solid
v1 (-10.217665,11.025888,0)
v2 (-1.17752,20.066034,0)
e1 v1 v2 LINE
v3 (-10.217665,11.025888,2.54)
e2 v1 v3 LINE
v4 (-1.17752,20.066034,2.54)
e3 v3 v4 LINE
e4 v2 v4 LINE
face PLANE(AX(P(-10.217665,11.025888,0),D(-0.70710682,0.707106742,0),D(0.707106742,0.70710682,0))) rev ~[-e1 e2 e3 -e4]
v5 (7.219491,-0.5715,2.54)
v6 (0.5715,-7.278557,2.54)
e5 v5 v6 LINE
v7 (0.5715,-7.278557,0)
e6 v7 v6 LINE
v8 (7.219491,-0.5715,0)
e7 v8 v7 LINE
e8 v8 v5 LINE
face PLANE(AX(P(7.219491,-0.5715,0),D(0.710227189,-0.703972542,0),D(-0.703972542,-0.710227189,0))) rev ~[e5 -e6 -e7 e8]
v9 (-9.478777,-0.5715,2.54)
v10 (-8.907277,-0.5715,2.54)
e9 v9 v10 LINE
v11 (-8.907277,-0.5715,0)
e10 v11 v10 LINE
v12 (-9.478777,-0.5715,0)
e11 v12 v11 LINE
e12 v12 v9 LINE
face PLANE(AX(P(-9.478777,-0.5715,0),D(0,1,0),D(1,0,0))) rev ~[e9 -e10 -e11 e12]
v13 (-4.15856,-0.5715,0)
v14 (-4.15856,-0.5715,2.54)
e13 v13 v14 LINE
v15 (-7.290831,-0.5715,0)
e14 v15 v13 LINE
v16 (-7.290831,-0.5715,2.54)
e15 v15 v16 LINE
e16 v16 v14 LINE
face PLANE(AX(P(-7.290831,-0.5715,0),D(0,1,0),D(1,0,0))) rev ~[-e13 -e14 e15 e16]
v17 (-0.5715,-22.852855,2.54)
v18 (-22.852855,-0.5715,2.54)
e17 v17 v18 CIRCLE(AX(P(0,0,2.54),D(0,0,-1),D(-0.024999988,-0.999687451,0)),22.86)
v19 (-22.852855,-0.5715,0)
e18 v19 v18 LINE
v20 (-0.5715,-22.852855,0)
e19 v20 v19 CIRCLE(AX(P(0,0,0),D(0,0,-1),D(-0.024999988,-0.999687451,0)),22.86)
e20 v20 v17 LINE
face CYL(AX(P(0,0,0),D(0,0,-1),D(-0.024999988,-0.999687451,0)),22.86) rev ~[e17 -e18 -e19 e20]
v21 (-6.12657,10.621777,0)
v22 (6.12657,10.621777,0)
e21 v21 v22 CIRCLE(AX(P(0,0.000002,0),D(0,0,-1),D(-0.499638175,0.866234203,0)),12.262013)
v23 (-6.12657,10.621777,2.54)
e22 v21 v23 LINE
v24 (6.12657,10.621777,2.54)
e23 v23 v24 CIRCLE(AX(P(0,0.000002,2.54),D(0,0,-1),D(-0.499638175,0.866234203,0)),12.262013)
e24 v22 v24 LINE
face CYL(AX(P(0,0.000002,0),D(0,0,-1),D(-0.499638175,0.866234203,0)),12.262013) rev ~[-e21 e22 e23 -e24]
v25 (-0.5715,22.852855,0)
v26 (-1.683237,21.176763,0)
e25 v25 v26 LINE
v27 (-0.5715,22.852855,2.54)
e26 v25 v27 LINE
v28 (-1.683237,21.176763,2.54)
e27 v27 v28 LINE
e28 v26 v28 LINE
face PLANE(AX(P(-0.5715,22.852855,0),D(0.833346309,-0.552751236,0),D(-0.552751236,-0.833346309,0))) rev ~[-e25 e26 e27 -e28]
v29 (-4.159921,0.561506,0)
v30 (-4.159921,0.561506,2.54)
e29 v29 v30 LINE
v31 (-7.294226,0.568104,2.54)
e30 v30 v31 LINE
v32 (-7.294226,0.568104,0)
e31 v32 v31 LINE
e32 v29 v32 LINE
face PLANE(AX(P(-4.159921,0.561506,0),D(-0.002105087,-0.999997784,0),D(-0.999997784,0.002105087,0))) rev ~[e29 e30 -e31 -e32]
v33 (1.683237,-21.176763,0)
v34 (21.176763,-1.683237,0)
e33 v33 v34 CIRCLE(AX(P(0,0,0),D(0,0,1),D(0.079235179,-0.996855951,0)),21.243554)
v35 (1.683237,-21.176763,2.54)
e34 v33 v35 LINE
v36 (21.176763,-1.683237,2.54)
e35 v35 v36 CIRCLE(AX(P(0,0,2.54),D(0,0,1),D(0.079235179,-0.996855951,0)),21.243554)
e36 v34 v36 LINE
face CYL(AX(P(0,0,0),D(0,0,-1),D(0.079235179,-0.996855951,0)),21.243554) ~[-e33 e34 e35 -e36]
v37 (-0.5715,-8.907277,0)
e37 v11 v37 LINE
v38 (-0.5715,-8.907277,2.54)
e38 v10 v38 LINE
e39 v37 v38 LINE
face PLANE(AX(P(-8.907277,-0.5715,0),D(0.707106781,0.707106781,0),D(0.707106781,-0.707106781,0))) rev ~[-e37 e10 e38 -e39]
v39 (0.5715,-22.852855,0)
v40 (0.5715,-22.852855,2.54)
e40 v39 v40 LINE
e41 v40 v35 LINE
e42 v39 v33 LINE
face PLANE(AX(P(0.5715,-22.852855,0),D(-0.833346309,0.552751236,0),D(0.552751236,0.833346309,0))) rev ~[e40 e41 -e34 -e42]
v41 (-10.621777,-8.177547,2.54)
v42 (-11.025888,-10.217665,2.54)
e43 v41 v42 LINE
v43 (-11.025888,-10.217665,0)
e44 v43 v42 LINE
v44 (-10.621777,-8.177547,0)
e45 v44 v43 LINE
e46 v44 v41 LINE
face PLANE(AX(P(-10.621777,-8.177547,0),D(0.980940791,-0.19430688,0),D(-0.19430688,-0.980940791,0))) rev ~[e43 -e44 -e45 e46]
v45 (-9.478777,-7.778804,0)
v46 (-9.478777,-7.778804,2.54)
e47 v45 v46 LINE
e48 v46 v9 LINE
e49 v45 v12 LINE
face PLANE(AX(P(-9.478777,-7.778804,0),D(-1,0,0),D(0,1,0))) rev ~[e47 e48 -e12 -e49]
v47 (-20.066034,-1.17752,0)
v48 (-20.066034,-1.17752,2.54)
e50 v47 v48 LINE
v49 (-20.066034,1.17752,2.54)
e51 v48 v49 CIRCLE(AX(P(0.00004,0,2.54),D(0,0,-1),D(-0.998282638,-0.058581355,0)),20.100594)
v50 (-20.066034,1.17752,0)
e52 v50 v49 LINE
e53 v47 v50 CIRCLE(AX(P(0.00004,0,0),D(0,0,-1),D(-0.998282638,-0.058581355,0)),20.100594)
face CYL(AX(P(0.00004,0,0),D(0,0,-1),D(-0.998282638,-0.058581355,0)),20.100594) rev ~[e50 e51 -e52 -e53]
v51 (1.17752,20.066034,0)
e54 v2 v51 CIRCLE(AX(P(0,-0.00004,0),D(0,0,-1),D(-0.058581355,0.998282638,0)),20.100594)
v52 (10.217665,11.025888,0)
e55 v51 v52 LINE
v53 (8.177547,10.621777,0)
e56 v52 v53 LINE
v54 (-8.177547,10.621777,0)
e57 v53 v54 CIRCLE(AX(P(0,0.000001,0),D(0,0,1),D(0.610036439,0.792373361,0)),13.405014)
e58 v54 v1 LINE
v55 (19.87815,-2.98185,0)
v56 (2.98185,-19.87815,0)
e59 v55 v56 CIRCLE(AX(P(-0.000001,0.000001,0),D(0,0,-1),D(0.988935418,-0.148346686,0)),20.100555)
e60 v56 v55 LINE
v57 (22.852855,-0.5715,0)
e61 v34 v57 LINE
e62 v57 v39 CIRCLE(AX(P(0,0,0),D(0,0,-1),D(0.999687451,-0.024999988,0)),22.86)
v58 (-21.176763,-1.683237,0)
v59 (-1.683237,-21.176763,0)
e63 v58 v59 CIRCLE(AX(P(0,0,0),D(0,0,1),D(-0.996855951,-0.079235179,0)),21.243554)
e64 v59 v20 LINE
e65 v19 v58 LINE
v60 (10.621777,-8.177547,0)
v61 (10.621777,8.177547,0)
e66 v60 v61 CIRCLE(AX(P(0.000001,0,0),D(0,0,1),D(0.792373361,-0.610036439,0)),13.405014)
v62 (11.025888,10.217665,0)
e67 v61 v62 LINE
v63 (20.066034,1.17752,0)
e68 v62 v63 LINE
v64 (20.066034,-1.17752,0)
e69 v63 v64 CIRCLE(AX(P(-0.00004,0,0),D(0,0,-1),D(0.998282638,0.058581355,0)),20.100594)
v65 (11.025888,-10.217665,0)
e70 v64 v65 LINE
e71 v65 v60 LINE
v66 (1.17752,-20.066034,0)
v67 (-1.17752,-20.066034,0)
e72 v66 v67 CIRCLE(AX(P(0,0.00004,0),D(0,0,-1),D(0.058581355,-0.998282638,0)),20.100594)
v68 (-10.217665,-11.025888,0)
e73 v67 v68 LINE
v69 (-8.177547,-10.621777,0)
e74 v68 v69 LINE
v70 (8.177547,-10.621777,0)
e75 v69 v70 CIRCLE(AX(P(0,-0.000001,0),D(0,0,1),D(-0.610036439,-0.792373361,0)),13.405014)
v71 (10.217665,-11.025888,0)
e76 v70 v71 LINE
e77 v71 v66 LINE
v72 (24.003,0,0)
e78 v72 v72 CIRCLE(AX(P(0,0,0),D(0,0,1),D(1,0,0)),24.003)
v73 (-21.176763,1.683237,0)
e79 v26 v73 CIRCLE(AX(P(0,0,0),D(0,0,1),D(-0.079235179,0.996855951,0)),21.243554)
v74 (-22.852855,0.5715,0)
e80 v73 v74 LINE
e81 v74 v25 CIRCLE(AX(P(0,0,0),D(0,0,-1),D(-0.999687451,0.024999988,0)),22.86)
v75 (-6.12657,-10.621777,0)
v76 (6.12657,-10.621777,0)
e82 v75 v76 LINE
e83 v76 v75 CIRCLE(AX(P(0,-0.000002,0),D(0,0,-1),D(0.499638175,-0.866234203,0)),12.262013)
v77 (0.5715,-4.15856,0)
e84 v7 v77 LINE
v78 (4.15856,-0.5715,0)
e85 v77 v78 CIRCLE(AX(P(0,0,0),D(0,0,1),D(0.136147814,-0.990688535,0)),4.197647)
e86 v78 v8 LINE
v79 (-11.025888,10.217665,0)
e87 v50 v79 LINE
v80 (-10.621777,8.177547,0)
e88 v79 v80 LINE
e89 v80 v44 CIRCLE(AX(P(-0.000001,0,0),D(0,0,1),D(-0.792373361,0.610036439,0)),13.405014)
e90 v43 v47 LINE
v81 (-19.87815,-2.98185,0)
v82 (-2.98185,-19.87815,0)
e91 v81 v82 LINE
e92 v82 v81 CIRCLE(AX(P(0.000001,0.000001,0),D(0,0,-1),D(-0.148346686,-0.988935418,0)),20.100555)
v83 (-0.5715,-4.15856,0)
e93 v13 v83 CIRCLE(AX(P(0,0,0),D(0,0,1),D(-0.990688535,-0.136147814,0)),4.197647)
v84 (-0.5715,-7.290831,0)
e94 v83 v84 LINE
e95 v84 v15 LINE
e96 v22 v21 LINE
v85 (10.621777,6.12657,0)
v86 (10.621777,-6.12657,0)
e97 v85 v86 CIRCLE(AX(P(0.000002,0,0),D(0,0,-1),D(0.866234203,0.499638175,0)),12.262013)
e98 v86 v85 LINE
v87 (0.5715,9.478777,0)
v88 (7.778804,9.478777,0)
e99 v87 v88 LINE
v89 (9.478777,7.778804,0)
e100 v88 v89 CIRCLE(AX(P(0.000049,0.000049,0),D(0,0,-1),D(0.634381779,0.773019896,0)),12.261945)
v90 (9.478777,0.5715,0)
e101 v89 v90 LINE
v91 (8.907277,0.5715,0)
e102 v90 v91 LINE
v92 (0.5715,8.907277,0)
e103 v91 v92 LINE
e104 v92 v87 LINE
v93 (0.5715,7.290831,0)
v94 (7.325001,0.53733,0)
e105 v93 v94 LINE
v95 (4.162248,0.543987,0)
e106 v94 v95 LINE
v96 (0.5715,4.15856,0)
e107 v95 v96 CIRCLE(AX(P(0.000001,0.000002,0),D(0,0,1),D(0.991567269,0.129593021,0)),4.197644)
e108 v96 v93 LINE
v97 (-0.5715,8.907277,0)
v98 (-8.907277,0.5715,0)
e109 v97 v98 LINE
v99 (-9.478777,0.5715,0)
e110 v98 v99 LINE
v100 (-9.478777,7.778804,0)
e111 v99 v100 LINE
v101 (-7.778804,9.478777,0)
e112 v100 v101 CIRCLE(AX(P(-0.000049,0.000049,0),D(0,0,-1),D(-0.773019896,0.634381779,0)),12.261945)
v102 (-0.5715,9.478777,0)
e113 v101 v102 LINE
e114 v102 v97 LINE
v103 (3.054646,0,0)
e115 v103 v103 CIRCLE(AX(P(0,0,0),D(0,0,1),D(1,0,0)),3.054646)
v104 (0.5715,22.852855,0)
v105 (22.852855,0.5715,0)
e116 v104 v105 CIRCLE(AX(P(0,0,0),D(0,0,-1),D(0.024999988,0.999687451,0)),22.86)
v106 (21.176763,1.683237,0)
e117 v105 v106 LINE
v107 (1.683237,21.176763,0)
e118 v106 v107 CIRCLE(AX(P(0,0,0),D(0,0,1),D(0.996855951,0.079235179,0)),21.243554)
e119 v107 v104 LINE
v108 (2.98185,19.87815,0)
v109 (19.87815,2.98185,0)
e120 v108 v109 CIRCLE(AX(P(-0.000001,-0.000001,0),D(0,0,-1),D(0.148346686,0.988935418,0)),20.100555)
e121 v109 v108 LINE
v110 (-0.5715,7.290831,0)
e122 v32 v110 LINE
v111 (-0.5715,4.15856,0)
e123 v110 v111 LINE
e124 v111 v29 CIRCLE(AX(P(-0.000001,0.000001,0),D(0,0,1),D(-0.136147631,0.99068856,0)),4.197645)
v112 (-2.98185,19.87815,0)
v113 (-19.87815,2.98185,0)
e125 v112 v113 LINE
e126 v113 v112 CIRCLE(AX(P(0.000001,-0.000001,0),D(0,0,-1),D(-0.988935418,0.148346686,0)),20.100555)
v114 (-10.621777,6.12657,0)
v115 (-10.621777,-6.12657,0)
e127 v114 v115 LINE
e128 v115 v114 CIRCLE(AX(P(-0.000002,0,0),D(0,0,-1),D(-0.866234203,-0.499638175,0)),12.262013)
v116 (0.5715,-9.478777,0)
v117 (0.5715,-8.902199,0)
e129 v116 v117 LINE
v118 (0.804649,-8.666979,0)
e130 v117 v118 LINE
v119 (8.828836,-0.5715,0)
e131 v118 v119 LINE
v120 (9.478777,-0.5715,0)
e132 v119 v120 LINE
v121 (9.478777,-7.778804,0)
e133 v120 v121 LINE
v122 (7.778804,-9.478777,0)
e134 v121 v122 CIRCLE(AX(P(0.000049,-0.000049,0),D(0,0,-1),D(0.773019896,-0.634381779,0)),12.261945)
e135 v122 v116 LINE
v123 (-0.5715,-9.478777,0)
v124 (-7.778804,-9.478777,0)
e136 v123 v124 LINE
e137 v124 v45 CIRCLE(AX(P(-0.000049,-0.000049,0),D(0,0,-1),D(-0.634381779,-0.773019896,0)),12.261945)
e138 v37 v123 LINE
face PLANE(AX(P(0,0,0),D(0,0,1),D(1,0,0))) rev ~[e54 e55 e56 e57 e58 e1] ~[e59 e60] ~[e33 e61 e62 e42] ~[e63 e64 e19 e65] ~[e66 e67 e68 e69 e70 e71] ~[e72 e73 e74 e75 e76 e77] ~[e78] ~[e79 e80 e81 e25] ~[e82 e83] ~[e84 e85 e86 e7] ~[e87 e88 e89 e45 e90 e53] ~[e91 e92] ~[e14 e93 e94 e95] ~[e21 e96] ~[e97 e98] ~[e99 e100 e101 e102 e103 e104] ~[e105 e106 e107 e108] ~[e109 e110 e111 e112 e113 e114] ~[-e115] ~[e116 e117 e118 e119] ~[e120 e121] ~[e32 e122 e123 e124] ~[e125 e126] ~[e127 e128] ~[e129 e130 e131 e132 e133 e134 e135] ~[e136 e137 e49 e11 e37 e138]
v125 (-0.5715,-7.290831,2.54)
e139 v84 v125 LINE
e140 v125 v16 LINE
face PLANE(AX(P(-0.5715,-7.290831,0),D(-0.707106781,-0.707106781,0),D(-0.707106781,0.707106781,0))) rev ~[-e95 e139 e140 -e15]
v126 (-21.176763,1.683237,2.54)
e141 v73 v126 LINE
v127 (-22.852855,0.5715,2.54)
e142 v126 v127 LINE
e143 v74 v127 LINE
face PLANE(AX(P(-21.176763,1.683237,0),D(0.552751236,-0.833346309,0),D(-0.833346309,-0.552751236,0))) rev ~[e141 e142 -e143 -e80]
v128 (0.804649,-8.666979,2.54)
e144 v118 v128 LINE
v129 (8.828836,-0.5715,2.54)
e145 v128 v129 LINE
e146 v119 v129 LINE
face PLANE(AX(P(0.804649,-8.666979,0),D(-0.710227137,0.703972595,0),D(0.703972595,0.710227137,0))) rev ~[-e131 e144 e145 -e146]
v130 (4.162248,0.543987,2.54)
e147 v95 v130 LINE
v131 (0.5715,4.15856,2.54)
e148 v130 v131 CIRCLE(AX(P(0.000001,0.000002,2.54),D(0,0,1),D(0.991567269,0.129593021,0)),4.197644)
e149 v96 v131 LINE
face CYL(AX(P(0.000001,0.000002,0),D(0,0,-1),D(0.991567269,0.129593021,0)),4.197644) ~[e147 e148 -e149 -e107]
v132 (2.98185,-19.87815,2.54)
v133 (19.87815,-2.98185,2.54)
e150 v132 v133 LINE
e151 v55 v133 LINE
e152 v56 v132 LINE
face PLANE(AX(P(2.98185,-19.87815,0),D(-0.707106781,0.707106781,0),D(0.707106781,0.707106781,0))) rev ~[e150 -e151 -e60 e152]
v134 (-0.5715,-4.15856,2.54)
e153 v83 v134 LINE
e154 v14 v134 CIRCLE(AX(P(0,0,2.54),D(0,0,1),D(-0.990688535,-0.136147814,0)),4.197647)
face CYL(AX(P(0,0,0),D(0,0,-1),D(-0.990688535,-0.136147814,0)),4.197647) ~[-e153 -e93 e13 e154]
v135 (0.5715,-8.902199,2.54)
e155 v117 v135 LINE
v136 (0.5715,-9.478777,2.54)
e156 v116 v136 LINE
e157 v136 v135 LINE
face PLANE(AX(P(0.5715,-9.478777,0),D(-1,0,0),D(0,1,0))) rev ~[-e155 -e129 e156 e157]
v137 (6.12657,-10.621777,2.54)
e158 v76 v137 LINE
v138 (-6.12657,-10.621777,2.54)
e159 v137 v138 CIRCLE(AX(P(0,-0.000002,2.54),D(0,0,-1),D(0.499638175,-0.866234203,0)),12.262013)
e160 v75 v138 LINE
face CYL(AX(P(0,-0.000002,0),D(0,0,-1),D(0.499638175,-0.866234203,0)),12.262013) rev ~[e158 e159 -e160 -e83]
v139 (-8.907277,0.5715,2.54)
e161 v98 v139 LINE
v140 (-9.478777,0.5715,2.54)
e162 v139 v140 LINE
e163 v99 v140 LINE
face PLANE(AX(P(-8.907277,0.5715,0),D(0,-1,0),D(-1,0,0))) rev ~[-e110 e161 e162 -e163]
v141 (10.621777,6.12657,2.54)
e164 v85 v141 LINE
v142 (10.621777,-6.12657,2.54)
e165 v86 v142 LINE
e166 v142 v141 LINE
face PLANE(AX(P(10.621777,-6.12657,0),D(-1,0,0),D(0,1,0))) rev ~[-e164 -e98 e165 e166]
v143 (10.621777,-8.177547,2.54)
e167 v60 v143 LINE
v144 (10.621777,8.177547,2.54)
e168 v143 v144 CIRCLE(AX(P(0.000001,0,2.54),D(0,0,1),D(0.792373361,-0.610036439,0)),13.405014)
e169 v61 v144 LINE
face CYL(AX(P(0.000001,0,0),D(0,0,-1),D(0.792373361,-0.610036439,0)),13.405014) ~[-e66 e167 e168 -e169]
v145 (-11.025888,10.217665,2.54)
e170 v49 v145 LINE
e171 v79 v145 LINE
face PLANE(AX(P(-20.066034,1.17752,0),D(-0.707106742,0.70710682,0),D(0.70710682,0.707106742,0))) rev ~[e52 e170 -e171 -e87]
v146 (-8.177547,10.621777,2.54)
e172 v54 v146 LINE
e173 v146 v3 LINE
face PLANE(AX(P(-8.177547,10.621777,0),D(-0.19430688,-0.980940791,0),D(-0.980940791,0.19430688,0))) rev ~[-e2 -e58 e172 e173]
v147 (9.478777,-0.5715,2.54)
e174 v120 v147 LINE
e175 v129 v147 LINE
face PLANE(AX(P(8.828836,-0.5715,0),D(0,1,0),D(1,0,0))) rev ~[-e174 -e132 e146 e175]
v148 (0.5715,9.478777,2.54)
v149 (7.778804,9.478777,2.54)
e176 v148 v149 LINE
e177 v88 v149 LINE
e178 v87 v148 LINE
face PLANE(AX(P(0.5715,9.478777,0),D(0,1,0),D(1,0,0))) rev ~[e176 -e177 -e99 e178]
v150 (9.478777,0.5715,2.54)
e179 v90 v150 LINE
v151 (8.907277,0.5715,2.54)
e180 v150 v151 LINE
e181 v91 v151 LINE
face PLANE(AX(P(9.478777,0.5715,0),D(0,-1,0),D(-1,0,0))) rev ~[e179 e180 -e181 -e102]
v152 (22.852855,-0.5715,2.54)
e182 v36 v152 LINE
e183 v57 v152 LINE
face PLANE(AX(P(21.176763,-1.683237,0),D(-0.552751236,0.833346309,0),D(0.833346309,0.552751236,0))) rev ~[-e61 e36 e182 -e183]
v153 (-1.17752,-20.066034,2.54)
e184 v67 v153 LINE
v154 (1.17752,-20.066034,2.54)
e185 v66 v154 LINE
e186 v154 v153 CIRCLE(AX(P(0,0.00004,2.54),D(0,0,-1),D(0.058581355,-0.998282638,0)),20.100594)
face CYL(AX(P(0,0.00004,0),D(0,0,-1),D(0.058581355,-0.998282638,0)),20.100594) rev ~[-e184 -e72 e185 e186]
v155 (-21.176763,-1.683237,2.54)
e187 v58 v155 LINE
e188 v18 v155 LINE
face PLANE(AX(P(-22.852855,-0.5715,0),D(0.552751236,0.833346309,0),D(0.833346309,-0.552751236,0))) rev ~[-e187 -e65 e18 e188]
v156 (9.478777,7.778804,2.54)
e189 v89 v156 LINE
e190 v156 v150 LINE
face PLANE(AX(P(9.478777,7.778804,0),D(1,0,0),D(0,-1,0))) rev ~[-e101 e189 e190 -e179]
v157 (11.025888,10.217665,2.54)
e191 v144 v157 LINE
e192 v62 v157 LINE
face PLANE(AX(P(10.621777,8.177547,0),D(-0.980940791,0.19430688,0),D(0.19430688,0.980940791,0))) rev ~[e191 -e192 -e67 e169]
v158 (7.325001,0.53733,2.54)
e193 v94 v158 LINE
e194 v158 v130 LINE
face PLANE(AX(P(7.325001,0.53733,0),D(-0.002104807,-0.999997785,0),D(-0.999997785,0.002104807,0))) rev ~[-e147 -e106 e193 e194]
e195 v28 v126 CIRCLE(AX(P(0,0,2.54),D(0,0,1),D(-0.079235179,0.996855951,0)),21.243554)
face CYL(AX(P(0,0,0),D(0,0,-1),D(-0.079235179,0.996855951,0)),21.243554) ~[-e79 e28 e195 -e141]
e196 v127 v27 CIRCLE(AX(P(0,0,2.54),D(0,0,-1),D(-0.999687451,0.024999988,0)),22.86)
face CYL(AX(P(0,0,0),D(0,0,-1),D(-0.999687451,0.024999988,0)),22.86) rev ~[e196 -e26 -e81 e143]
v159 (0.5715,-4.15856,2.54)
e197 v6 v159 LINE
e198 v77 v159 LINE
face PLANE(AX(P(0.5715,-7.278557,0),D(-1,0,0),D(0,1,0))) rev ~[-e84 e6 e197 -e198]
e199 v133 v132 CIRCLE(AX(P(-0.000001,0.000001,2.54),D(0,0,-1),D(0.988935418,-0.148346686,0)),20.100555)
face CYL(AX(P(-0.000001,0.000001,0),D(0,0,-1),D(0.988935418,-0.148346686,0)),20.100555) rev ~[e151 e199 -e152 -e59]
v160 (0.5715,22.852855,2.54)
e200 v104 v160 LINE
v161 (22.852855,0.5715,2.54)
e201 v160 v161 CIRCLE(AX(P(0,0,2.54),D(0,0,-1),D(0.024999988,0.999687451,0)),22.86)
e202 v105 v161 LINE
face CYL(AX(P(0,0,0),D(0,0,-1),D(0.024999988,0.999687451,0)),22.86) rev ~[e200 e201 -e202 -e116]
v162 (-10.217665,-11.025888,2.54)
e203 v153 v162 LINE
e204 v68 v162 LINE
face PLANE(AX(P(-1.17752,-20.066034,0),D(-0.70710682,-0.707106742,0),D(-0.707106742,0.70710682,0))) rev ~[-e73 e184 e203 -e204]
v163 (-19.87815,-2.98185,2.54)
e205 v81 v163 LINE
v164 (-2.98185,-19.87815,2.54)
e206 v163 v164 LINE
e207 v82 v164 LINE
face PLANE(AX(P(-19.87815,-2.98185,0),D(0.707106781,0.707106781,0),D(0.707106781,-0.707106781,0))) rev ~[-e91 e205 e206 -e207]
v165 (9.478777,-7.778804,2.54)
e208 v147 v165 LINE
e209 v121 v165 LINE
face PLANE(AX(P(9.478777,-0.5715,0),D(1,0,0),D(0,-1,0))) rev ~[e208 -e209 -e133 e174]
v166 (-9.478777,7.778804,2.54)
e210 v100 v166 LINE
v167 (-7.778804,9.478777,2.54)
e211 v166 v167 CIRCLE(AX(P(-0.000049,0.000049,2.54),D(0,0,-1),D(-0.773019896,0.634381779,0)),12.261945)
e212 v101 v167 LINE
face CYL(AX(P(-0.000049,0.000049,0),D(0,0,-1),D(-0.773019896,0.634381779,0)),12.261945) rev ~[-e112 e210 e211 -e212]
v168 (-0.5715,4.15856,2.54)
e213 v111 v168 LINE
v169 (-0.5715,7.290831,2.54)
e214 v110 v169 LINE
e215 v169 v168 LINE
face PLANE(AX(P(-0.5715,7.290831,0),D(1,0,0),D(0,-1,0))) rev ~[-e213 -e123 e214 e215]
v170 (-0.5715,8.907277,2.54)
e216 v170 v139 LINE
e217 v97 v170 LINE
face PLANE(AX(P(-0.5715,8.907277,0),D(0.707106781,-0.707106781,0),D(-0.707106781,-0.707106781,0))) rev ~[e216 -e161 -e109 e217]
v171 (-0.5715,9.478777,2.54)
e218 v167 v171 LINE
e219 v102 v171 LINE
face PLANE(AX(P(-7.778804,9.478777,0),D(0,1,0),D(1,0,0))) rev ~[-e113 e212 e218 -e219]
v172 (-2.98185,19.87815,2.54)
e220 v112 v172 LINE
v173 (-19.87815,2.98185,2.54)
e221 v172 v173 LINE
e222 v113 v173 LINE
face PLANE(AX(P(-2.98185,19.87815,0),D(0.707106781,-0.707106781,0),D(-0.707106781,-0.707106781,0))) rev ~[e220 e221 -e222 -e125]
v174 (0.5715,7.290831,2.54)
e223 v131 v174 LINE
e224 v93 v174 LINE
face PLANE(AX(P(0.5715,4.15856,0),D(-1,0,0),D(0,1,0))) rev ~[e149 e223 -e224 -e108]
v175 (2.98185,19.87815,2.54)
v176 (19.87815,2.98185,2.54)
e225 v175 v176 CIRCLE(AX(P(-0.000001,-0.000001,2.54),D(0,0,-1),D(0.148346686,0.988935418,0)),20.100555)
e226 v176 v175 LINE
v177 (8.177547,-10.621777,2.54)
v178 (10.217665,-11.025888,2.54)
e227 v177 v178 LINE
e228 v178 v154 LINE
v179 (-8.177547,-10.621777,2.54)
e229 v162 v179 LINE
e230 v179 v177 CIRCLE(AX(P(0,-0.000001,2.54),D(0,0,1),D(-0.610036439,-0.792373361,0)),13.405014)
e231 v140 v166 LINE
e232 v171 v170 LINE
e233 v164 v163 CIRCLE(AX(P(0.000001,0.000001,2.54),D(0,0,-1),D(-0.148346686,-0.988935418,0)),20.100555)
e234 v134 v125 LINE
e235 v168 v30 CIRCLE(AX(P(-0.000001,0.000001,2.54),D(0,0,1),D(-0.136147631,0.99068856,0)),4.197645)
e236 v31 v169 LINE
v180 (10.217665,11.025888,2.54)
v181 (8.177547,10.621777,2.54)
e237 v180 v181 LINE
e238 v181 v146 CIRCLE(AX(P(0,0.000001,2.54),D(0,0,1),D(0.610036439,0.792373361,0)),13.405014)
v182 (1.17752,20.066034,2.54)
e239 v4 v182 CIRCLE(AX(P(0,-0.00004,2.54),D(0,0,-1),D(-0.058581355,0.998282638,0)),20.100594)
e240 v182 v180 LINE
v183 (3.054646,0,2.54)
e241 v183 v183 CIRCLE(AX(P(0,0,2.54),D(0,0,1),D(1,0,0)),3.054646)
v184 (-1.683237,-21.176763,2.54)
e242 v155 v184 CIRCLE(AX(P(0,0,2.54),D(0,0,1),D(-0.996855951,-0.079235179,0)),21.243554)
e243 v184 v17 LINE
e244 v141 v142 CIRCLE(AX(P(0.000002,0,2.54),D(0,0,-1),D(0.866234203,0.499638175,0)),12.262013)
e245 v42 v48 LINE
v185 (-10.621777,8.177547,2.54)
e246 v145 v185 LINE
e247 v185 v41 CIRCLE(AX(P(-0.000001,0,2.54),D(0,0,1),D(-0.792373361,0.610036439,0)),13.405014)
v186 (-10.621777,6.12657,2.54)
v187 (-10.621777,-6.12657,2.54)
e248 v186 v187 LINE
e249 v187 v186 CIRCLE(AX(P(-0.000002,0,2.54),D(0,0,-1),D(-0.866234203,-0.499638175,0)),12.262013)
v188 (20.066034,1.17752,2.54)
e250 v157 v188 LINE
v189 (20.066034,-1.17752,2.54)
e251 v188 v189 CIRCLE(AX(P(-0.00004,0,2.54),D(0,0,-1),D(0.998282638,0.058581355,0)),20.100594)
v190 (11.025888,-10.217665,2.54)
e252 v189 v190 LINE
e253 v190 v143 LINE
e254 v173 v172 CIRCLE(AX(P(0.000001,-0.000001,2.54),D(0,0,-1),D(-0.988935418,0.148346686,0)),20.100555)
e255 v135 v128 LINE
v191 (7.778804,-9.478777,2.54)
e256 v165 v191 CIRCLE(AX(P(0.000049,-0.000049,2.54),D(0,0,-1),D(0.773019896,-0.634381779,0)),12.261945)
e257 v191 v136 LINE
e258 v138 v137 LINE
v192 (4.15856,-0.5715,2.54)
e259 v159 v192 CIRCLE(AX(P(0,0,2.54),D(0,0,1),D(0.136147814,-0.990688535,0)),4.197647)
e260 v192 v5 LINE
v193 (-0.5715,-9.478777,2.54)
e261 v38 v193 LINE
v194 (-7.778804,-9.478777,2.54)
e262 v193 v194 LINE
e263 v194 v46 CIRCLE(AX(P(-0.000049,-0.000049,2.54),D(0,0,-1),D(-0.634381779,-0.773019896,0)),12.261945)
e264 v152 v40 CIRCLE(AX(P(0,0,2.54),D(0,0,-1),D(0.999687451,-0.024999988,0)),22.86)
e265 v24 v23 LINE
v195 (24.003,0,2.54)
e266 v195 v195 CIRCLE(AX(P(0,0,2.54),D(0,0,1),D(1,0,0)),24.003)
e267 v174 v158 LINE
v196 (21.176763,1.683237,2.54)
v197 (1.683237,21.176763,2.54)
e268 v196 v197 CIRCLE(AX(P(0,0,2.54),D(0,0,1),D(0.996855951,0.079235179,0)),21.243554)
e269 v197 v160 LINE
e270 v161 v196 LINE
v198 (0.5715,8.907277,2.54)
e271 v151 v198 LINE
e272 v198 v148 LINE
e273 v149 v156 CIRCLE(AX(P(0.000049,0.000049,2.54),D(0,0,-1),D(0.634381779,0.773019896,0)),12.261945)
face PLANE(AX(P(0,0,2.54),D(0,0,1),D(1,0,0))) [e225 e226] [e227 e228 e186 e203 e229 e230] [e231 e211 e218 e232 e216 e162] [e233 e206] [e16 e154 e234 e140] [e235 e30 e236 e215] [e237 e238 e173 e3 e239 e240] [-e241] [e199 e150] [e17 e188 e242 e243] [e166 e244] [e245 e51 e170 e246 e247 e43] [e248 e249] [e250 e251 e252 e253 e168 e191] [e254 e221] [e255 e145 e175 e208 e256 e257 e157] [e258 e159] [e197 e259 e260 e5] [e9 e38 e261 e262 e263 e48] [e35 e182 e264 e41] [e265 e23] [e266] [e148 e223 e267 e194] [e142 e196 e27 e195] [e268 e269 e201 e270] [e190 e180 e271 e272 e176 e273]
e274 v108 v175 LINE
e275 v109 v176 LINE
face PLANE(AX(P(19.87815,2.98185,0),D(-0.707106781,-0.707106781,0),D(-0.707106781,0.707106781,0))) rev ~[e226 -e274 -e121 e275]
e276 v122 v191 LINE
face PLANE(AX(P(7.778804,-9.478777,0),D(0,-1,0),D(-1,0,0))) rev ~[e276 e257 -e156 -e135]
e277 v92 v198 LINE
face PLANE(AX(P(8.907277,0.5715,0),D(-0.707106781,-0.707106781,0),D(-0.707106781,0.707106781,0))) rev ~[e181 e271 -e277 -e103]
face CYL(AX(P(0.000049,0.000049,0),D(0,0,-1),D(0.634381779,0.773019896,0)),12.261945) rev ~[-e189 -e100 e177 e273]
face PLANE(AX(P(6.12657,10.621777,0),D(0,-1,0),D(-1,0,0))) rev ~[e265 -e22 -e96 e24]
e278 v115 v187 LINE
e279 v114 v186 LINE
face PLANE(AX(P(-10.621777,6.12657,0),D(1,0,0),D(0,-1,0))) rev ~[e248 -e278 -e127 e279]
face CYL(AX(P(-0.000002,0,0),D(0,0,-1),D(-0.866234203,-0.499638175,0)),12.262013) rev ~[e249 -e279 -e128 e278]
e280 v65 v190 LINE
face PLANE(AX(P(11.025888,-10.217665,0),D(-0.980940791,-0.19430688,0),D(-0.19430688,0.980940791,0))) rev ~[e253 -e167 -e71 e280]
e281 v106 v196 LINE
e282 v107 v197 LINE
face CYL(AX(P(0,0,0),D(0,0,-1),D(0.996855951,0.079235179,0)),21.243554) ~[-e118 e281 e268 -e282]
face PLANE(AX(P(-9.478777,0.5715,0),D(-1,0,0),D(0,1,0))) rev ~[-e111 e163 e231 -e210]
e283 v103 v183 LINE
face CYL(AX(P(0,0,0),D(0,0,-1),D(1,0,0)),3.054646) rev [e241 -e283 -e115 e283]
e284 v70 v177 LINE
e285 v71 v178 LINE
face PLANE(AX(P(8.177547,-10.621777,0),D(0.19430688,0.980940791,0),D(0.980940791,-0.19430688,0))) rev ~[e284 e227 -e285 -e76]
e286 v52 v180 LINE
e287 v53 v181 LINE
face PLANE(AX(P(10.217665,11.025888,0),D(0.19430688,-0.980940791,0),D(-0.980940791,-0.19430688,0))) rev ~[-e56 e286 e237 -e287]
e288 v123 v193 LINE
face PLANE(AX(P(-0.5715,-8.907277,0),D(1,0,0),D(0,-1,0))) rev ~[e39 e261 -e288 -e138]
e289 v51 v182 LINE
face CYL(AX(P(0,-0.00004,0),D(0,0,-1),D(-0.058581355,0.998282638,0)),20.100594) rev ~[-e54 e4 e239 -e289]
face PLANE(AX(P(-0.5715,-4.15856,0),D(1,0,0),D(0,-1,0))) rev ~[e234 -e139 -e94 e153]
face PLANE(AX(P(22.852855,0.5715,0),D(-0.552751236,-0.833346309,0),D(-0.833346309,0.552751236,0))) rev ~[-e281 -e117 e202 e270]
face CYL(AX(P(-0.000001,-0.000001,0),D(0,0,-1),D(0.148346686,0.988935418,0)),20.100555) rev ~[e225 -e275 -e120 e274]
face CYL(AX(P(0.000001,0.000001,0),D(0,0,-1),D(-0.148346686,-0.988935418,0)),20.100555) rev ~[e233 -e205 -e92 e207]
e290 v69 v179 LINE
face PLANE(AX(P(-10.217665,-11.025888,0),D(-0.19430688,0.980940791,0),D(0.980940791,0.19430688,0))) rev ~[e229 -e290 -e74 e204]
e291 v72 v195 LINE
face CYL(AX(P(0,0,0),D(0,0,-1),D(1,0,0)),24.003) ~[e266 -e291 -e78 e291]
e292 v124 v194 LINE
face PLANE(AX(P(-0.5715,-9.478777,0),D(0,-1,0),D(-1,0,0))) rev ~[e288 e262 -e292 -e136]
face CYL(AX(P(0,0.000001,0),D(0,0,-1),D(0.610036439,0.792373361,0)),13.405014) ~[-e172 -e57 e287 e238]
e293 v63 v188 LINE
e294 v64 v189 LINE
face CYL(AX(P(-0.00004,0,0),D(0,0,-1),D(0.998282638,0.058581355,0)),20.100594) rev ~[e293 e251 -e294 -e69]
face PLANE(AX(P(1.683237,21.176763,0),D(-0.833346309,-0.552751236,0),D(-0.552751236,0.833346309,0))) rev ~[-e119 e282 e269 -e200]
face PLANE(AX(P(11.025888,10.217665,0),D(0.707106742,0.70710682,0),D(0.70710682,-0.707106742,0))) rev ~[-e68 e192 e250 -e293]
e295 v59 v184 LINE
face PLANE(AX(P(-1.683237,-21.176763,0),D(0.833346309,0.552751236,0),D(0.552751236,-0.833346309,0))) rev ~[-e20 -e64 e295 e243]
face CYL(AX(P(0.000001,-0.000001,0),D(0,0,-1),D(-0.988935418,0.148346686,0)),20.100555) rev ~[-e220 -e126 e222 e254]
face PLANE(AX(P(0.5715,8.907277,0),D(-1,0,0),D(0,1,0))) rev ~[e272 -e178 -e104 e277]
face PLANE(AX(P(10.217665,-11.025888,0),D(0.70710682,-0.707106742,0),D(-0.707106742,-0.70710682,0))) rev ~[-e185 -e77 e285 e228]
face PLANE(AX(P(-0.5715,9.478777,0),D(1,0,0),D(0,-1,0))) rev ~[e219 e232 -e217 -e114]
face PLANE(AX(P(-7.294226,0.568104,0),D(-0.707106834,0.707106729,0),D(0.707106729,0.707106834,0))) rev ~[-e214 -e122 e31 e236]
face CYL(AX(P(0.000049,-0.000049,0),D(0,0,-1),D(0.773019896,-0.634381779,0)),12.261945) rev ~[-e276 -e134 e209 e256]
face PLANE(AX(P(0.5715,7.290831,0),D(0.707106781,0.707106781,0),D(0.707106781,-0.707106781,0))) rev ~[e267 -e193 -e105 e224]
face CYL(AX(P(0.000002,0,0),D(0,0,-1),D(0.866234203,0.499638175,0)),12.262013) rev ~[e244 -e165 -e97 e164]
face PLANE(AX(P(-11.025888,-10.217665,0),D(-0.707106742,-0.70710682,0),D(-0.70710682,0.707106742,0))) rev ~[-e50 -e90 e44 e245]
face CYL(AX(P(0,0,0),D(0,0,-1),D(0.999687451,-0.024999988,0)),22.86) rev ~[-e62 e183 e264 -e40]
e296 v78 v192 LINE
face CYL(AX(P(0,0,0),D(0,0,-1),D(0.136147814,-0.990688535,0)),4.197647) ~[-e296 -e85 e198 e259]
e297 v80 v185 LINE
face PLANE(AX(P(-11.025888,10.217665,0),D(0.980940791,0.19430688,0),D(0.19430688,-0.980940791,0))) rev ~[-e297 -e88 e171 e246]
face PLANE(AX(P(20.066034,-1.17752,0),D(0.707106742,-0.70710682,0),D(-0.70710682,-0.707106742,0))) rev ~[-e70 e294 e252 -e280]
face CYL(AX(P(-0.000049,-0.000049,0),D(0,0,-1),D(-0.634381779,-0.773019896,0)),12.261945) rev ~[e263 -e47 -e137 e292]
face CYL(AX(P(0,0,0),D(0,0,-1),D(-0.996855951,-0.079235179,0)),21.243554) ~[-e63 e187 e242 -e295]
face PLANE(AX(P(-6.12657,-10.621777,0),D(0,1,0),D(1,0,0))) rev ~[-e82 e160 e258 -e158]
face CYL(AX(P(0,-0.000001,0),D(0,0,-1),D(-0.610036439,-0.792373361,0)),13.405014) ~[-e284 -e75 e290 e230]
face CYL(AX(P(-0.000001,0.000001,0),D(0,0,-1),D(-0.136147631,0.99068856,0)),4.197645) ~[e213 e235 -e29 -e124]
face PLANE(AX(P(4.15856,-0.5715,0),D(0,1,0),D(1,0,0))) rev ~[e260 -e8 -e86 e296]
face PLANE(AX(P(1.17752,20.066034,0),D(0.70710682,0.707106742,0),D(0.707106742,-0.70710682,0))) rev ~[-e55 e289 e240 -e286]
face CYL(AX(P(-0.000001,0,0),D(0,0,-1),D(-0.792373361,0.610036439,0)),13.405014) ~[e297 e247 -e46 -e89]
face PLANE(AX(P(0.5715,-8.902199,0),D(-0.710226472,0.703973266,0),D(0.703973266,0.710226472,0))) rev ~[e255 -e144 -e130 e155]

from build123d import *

# Parameters (mm, degrees)
F0_R     = 24.003
F0_R_2   = 3.054646
F1_DEPTH = 2.54


with BuildPart() as f1:
    # F0 (on Top) → F1 (new body)
    with BuildSketch(Plane.XY):
        Circle(F0_R)
        with BuildLine():
            ThreePointArc((1.17752, -20.066034), (0, -20.100554), (-1.17752, -20.066034))
            Line((-1.17752, -20.066034), (-10.217665, -11.025888))
            Line((-10.217665, -11.025888), (-8.177547, -10.621777))
            ThreePointArc((-8.177547, -10.621777), (0, -13.405015), (8.177547, -10.621777))
            Line((8.177547, -10.621777), (10.217665, -11.025888))
            Line((10.217665, -11.025888), (1.17752, -20.066034))
        make_face(mode=Mode.SUBTRACT)
        with BuildLine():
            ThreePointArc((-0.5715, -22.852855), (-16.164461, -16.164461), (-22.852855, -0.5715))
            Line((-22.852855, -0.5715), (-21.176763, -1.683237))
            ThreePointArc((-21.176763, -1.683237), (-15.021461, -15.021461), (-1.683237, -21.176763))
            Line((-1.683237, -21.176763), (-0.5715, -22.852855))
        make_face(mode=Mode.SUBTRACT)
        with BuildLine():
            Line((-19.87815, -2.98185), (-2.98185, -19.87815))
            ThreePointArc((-2.98185, -19.87815), (-14.213238, -14.213238), (-19.87815, -2.98185))
        make_face(mode=Mode.SUBTRACT)
        with BuildLine():
            ThreePointArc((-10.621777, -6.12657), (-12.262015, 0), (-10.621777, 6.12657))
            Line((-10.621777, 6.12657), (-10.621777, -6.12657))
        make_face(mode=Mode.SUBTRACT)
        with BuildLine():
            Line((-0.5715, -9.478777), (-7.778804, -9.478777))
            ThreePointArc((-7.778804, -9.478777), (-8.670554, -8.670554), (-9.478777, -7.778804))
            Line((-9.478777, -7.778804), (-9.478777, -0.5715))
            Line((-9.478777, -0.5715), (-8.907277, -0.5715))
            Line((-8.907277, -0.5715), (-7.645644, -1.833133))
            Line((-7.645644, -1.833133), (-1.833133, -7.645644))
            Line((-1.833133, -7.645644), (-0.808231, -8.670546))
            Line((-0.808231, -8.670546), (-0.5715, -8.907277))
            Line((-0.5715, -8.907277), (-0.5715, -9.478777))
        make_face(mode=Mode.SUBTRACT)
        with BuildLine():
            Line((-0.5715, -7.290831), (-7.290831, -0.5715))
            Line((-7.290831, -0.5715), (-4.15856, -0.5715))
            ThreePointArc((-4.15856, -0.5715), (-2.968184, -2.968184), (-0.5715, -4.15856))
            Line((-0.5715, -4.15856), (-0.5715, -7.290831))
        make_face(mode=Mode.SUBTRACT)
        with BuildLine():
            ThreePointArc((6.12657, -10.621777), (0, -12.262015), (-6.12657, -10.621777))
            Line((-6.12657, -10.621777), (6.12657, -10.621777))
        make_face(mode=Mode.SUBTRACT)
        with BuildLine():
            ThreePointArc((22.852855, -0.5715), (16.164461, -16.164461), (0.5715, -22.852855))
            Line((0.5715, -22.852855), (1.683237, -21.176763))
            ThreePointArc((1.683237, -21.176763), (15.021461, -15.021461), (21.176763, -1.683237))
            Line((21.176763, -1.683237), (22.852855, -0.5715))
        make_face(mode=Mode.SUBTRACT)
        with BuildLine():
            ThreePointArc((19.87815, -2.98185), (14.213238, -14.213238), (2.98185, -19.87815))
            Line((2.98185, -19.87815), (19.87815, -2.98185))
        make_face(mode=Mode.SUBTRACT)
        with BuildLine():
            Line((0.5715, -9.478777), (0.5715, -8.902199))
            Line((0.5715, -8.902199), (0.804649, -8.666979))
            Line((0.804649, -8.666979), (8.828836, -0.5715))
            Line((8.828836, -0.5715), (9.478777, -0.5715))
            Line((9.478777, -0.5715), (9.478777, -7.778804))
            ThreePointArc((9.478777, -7.778804), (8.670554, -8.670554), (7.778804, -9.478777))
            Line((7.778804, -9.478777), (0.5715, -9.478777))
        make_face(mode=Mode.SUBTRACT)
        with BuildLine():
            Line((7.219491, -0.5715), (0.5715, -7.278557))
            Line((0.5715, -7.278557), (0.5715, -4.15856))
            ThreePointArc((0.5715, -4.15856), (2.968184, -2.968184), (4.15856, -0.5715))
            Line((4.15856, -0.5715), (7.219491, -0.5715))
        make_face(mode=Mode.SUBTRACT)
        with BuildLine():
            ThreePointArc((20.066034, 1.17752), (20.100554, 0), (20.066034, -1.17752))
            Line((20.066034, -1.17752), (11.025888, -10.217665))
            Line((11.025888, -10.217665), (10.621777, -8.177547))
            ThreePointArc((10.621777, -8.177547), (13.405015, 0), (10.621777, 8.177547))
            Line((10.621777, 8.177547), (11.025888, 10.217665))
            Line((11.025888, 10.217665), (20.066034, 1.17752))
        make_face(mode=Mode.SUBTRACT)
        with BuildLine():
            ThreePointArc((-20.066034, -1.17752), (-20.100554, 0), (-20.066034, 1.17752))
            Line((-20.066034, 1.17752), (-11.025888, 10.217665))
            Line((-11.025888, 10.217665), (-10.621777, 8.177547))
            ThreePointArc((-10.621777, 8.177547), (-13.405015, 0), (-10.621777, -8.177547))
            Line((-10.621777, -8.177547), (-11.025888, -10.217665))
            Line((-11.025888, -10.217665), (-20.066034, -1.17752))
        make_face(mode=Mode.SUBTRACT)
        with BuildLine():
            Line((-7.294226, 0.568104), (-0.5715, 7.290831))
            Line((-0.5715, 7.290831), (-0.5715, 4.15856))
            ThreePointArc((-0.5715, 4.15856), (-2.971748, 2.964616), (-4.159921, 0.561506))
            Line((-4.159921, 0.561506), (-7.294226, 0.568104))
        make_face(mode=Mode.SUBTRACT)
        with BuildLine():
            ThreePointArc((-9.478777, 7.778804), (-8.670554, 8.670554), (-7.778804, 9.478777))
            Line((-7.778804, 9.478777), (-0.5715, 9.478777))
            Line((-0.5715, 9.478777), (-0.5715, 8.907277))
            Line((-0.5715, 8.907277), (-1.833133, 7.645644))
            Line((-1.833133, 7.645644), (-7.645644, 1.833133))
            Line((-7.645644, 1.833133), (-8.907277, 0.5715))
            Line((-8.907277, 0.5715), (-9.478777, 0.5715))
            Line((-9.478777, 0.5715), (-9.478777, 7.778804))
        make_face(mode=Mode.SUBTRACT)
        with BuildLine():
            Line((-2.98185, 19.87815), (-19.87815, 2.98185))
            ThreePointArc((-19.87815, 2.98185), (-14.213238, 14.213238), (-2.98185, 19.87815))
        make_face(mode=Mode.SUBTRACT)
        with BuildLine():
            ThreePointArc((-1.683237, 21.176763), (-15.021461, 15.021461), (-21.176763, 1.683237))
            Line((-21.176763, 1.683237), (-22.852855, 0.5715))
            ThreePointArc((-22.852855, 0.5715), (-16.164461, 16.164461), (-0.5715, 22.852855))
            Line((-0.5715, 22.852855), (-1.683237, 21.176763))
        make_face(mode=Mode.SUBTRACT)
        with BuildLine():
            Line((6.12657, 10.621777), (-6.12657, 10.621777))
            ThreePointArc((-6.12657, 10.621777), (0, 12.262015), (6.12657, 10.621777))
        make_face(mode=Mode.SUBTRACT)
        with BuildLine():
            ThreePointArc((-1.17752, 20.066034), (0, 20.100554), (1.17752, 20.066034))
            Line((1.17752, 20.066034), (10.217665, 11.025888))
            Line((10.217665, 11.025888), (8.177547, 10.621777))
            ThreePointArc((8.177547, 10.621777), (0, 13.405015), (-8.177547, 10.621777))
            Line((-8.177547, 10.621777), (-10.217665, 11.025888))
            Line((-10.217665, 11.025888), (-1.17752, 20.066034))
        make_face(mode=Mode.SUBTRACT)
        Circle(F0_R_2, mode=Mode.SUBTRACT)
        with BuildLine():
            Line((0.5715, 7.290831), (7.325001, 0.53733))
            Line((7.325001, 0.53733), (4.162248, 0.543987))
            ThreePointArc((4.162248, 0.543987), (2.977982, 2.958354), (0.5715, 4.15856))
            Line((0.5715, 4.15856), (0.5715, 7.290831))
        make_face(mode=Mode.SUBTRACT)
        with BuildLine():
            ThreePointArc((7.778804, 9.478777), (8.670554, 8.670554), (9.478777, 7.778804))
            Line((9.478777, 7.778804), (9.478777, 0.5715))
            Line((9.478777, 0.5715), (8.907277, 0.5715))
            Line((8.907277, 0.5715), (7.645644, 1.833133))
            Line((7.645644, 1.833133), (1.833133, 7.645644))
            Line((1.833133, 7.645644), (0.5715, 8.907277))
            Line((0.5715, 8.907277), (0.5715, 9.478777))
            Line((0.5715, 9.478777), (7.778804, 9.478777))
        make_face(mode=Mode.SUBTRACT)
        with BuildLine():
            ThreePointArc((10.621777, 6.12657), (12.262015, 0), (10.621777, -6.12657))
            Line((10.621777, -6.12657), (10.621777, 6.12657))
        make_face(mode=Mode.SUBTRACT)
        with BuildLine():
            Line((19.87815, 2.98185), (2.98185, 19.87815))
            ThreePointArc((2.98185, 19.87815), (14.213238, 14.213238), (19.87815, 2.98185))
        make_face(mode=Mode.SUBTRACT)
        with BuildLine():
            ThreePointArc((0.5715, 22.852855), (16.164461, 16.164461), (22.852855, 0.5715))
            Line((22.852855, 0.5715), (21.176763, 1.683237))
            ThreePointArc((21.176763, 1.683237), (15.021461, 15.021461), (1.683237, 21.176763))
            Line((1.683237, 21.176763), (0.5715, 22.852855))
        make_face(mode=Mode.SUBTRACT)
    extrude(amount=F1_DEPTH)


solid = f1.part
